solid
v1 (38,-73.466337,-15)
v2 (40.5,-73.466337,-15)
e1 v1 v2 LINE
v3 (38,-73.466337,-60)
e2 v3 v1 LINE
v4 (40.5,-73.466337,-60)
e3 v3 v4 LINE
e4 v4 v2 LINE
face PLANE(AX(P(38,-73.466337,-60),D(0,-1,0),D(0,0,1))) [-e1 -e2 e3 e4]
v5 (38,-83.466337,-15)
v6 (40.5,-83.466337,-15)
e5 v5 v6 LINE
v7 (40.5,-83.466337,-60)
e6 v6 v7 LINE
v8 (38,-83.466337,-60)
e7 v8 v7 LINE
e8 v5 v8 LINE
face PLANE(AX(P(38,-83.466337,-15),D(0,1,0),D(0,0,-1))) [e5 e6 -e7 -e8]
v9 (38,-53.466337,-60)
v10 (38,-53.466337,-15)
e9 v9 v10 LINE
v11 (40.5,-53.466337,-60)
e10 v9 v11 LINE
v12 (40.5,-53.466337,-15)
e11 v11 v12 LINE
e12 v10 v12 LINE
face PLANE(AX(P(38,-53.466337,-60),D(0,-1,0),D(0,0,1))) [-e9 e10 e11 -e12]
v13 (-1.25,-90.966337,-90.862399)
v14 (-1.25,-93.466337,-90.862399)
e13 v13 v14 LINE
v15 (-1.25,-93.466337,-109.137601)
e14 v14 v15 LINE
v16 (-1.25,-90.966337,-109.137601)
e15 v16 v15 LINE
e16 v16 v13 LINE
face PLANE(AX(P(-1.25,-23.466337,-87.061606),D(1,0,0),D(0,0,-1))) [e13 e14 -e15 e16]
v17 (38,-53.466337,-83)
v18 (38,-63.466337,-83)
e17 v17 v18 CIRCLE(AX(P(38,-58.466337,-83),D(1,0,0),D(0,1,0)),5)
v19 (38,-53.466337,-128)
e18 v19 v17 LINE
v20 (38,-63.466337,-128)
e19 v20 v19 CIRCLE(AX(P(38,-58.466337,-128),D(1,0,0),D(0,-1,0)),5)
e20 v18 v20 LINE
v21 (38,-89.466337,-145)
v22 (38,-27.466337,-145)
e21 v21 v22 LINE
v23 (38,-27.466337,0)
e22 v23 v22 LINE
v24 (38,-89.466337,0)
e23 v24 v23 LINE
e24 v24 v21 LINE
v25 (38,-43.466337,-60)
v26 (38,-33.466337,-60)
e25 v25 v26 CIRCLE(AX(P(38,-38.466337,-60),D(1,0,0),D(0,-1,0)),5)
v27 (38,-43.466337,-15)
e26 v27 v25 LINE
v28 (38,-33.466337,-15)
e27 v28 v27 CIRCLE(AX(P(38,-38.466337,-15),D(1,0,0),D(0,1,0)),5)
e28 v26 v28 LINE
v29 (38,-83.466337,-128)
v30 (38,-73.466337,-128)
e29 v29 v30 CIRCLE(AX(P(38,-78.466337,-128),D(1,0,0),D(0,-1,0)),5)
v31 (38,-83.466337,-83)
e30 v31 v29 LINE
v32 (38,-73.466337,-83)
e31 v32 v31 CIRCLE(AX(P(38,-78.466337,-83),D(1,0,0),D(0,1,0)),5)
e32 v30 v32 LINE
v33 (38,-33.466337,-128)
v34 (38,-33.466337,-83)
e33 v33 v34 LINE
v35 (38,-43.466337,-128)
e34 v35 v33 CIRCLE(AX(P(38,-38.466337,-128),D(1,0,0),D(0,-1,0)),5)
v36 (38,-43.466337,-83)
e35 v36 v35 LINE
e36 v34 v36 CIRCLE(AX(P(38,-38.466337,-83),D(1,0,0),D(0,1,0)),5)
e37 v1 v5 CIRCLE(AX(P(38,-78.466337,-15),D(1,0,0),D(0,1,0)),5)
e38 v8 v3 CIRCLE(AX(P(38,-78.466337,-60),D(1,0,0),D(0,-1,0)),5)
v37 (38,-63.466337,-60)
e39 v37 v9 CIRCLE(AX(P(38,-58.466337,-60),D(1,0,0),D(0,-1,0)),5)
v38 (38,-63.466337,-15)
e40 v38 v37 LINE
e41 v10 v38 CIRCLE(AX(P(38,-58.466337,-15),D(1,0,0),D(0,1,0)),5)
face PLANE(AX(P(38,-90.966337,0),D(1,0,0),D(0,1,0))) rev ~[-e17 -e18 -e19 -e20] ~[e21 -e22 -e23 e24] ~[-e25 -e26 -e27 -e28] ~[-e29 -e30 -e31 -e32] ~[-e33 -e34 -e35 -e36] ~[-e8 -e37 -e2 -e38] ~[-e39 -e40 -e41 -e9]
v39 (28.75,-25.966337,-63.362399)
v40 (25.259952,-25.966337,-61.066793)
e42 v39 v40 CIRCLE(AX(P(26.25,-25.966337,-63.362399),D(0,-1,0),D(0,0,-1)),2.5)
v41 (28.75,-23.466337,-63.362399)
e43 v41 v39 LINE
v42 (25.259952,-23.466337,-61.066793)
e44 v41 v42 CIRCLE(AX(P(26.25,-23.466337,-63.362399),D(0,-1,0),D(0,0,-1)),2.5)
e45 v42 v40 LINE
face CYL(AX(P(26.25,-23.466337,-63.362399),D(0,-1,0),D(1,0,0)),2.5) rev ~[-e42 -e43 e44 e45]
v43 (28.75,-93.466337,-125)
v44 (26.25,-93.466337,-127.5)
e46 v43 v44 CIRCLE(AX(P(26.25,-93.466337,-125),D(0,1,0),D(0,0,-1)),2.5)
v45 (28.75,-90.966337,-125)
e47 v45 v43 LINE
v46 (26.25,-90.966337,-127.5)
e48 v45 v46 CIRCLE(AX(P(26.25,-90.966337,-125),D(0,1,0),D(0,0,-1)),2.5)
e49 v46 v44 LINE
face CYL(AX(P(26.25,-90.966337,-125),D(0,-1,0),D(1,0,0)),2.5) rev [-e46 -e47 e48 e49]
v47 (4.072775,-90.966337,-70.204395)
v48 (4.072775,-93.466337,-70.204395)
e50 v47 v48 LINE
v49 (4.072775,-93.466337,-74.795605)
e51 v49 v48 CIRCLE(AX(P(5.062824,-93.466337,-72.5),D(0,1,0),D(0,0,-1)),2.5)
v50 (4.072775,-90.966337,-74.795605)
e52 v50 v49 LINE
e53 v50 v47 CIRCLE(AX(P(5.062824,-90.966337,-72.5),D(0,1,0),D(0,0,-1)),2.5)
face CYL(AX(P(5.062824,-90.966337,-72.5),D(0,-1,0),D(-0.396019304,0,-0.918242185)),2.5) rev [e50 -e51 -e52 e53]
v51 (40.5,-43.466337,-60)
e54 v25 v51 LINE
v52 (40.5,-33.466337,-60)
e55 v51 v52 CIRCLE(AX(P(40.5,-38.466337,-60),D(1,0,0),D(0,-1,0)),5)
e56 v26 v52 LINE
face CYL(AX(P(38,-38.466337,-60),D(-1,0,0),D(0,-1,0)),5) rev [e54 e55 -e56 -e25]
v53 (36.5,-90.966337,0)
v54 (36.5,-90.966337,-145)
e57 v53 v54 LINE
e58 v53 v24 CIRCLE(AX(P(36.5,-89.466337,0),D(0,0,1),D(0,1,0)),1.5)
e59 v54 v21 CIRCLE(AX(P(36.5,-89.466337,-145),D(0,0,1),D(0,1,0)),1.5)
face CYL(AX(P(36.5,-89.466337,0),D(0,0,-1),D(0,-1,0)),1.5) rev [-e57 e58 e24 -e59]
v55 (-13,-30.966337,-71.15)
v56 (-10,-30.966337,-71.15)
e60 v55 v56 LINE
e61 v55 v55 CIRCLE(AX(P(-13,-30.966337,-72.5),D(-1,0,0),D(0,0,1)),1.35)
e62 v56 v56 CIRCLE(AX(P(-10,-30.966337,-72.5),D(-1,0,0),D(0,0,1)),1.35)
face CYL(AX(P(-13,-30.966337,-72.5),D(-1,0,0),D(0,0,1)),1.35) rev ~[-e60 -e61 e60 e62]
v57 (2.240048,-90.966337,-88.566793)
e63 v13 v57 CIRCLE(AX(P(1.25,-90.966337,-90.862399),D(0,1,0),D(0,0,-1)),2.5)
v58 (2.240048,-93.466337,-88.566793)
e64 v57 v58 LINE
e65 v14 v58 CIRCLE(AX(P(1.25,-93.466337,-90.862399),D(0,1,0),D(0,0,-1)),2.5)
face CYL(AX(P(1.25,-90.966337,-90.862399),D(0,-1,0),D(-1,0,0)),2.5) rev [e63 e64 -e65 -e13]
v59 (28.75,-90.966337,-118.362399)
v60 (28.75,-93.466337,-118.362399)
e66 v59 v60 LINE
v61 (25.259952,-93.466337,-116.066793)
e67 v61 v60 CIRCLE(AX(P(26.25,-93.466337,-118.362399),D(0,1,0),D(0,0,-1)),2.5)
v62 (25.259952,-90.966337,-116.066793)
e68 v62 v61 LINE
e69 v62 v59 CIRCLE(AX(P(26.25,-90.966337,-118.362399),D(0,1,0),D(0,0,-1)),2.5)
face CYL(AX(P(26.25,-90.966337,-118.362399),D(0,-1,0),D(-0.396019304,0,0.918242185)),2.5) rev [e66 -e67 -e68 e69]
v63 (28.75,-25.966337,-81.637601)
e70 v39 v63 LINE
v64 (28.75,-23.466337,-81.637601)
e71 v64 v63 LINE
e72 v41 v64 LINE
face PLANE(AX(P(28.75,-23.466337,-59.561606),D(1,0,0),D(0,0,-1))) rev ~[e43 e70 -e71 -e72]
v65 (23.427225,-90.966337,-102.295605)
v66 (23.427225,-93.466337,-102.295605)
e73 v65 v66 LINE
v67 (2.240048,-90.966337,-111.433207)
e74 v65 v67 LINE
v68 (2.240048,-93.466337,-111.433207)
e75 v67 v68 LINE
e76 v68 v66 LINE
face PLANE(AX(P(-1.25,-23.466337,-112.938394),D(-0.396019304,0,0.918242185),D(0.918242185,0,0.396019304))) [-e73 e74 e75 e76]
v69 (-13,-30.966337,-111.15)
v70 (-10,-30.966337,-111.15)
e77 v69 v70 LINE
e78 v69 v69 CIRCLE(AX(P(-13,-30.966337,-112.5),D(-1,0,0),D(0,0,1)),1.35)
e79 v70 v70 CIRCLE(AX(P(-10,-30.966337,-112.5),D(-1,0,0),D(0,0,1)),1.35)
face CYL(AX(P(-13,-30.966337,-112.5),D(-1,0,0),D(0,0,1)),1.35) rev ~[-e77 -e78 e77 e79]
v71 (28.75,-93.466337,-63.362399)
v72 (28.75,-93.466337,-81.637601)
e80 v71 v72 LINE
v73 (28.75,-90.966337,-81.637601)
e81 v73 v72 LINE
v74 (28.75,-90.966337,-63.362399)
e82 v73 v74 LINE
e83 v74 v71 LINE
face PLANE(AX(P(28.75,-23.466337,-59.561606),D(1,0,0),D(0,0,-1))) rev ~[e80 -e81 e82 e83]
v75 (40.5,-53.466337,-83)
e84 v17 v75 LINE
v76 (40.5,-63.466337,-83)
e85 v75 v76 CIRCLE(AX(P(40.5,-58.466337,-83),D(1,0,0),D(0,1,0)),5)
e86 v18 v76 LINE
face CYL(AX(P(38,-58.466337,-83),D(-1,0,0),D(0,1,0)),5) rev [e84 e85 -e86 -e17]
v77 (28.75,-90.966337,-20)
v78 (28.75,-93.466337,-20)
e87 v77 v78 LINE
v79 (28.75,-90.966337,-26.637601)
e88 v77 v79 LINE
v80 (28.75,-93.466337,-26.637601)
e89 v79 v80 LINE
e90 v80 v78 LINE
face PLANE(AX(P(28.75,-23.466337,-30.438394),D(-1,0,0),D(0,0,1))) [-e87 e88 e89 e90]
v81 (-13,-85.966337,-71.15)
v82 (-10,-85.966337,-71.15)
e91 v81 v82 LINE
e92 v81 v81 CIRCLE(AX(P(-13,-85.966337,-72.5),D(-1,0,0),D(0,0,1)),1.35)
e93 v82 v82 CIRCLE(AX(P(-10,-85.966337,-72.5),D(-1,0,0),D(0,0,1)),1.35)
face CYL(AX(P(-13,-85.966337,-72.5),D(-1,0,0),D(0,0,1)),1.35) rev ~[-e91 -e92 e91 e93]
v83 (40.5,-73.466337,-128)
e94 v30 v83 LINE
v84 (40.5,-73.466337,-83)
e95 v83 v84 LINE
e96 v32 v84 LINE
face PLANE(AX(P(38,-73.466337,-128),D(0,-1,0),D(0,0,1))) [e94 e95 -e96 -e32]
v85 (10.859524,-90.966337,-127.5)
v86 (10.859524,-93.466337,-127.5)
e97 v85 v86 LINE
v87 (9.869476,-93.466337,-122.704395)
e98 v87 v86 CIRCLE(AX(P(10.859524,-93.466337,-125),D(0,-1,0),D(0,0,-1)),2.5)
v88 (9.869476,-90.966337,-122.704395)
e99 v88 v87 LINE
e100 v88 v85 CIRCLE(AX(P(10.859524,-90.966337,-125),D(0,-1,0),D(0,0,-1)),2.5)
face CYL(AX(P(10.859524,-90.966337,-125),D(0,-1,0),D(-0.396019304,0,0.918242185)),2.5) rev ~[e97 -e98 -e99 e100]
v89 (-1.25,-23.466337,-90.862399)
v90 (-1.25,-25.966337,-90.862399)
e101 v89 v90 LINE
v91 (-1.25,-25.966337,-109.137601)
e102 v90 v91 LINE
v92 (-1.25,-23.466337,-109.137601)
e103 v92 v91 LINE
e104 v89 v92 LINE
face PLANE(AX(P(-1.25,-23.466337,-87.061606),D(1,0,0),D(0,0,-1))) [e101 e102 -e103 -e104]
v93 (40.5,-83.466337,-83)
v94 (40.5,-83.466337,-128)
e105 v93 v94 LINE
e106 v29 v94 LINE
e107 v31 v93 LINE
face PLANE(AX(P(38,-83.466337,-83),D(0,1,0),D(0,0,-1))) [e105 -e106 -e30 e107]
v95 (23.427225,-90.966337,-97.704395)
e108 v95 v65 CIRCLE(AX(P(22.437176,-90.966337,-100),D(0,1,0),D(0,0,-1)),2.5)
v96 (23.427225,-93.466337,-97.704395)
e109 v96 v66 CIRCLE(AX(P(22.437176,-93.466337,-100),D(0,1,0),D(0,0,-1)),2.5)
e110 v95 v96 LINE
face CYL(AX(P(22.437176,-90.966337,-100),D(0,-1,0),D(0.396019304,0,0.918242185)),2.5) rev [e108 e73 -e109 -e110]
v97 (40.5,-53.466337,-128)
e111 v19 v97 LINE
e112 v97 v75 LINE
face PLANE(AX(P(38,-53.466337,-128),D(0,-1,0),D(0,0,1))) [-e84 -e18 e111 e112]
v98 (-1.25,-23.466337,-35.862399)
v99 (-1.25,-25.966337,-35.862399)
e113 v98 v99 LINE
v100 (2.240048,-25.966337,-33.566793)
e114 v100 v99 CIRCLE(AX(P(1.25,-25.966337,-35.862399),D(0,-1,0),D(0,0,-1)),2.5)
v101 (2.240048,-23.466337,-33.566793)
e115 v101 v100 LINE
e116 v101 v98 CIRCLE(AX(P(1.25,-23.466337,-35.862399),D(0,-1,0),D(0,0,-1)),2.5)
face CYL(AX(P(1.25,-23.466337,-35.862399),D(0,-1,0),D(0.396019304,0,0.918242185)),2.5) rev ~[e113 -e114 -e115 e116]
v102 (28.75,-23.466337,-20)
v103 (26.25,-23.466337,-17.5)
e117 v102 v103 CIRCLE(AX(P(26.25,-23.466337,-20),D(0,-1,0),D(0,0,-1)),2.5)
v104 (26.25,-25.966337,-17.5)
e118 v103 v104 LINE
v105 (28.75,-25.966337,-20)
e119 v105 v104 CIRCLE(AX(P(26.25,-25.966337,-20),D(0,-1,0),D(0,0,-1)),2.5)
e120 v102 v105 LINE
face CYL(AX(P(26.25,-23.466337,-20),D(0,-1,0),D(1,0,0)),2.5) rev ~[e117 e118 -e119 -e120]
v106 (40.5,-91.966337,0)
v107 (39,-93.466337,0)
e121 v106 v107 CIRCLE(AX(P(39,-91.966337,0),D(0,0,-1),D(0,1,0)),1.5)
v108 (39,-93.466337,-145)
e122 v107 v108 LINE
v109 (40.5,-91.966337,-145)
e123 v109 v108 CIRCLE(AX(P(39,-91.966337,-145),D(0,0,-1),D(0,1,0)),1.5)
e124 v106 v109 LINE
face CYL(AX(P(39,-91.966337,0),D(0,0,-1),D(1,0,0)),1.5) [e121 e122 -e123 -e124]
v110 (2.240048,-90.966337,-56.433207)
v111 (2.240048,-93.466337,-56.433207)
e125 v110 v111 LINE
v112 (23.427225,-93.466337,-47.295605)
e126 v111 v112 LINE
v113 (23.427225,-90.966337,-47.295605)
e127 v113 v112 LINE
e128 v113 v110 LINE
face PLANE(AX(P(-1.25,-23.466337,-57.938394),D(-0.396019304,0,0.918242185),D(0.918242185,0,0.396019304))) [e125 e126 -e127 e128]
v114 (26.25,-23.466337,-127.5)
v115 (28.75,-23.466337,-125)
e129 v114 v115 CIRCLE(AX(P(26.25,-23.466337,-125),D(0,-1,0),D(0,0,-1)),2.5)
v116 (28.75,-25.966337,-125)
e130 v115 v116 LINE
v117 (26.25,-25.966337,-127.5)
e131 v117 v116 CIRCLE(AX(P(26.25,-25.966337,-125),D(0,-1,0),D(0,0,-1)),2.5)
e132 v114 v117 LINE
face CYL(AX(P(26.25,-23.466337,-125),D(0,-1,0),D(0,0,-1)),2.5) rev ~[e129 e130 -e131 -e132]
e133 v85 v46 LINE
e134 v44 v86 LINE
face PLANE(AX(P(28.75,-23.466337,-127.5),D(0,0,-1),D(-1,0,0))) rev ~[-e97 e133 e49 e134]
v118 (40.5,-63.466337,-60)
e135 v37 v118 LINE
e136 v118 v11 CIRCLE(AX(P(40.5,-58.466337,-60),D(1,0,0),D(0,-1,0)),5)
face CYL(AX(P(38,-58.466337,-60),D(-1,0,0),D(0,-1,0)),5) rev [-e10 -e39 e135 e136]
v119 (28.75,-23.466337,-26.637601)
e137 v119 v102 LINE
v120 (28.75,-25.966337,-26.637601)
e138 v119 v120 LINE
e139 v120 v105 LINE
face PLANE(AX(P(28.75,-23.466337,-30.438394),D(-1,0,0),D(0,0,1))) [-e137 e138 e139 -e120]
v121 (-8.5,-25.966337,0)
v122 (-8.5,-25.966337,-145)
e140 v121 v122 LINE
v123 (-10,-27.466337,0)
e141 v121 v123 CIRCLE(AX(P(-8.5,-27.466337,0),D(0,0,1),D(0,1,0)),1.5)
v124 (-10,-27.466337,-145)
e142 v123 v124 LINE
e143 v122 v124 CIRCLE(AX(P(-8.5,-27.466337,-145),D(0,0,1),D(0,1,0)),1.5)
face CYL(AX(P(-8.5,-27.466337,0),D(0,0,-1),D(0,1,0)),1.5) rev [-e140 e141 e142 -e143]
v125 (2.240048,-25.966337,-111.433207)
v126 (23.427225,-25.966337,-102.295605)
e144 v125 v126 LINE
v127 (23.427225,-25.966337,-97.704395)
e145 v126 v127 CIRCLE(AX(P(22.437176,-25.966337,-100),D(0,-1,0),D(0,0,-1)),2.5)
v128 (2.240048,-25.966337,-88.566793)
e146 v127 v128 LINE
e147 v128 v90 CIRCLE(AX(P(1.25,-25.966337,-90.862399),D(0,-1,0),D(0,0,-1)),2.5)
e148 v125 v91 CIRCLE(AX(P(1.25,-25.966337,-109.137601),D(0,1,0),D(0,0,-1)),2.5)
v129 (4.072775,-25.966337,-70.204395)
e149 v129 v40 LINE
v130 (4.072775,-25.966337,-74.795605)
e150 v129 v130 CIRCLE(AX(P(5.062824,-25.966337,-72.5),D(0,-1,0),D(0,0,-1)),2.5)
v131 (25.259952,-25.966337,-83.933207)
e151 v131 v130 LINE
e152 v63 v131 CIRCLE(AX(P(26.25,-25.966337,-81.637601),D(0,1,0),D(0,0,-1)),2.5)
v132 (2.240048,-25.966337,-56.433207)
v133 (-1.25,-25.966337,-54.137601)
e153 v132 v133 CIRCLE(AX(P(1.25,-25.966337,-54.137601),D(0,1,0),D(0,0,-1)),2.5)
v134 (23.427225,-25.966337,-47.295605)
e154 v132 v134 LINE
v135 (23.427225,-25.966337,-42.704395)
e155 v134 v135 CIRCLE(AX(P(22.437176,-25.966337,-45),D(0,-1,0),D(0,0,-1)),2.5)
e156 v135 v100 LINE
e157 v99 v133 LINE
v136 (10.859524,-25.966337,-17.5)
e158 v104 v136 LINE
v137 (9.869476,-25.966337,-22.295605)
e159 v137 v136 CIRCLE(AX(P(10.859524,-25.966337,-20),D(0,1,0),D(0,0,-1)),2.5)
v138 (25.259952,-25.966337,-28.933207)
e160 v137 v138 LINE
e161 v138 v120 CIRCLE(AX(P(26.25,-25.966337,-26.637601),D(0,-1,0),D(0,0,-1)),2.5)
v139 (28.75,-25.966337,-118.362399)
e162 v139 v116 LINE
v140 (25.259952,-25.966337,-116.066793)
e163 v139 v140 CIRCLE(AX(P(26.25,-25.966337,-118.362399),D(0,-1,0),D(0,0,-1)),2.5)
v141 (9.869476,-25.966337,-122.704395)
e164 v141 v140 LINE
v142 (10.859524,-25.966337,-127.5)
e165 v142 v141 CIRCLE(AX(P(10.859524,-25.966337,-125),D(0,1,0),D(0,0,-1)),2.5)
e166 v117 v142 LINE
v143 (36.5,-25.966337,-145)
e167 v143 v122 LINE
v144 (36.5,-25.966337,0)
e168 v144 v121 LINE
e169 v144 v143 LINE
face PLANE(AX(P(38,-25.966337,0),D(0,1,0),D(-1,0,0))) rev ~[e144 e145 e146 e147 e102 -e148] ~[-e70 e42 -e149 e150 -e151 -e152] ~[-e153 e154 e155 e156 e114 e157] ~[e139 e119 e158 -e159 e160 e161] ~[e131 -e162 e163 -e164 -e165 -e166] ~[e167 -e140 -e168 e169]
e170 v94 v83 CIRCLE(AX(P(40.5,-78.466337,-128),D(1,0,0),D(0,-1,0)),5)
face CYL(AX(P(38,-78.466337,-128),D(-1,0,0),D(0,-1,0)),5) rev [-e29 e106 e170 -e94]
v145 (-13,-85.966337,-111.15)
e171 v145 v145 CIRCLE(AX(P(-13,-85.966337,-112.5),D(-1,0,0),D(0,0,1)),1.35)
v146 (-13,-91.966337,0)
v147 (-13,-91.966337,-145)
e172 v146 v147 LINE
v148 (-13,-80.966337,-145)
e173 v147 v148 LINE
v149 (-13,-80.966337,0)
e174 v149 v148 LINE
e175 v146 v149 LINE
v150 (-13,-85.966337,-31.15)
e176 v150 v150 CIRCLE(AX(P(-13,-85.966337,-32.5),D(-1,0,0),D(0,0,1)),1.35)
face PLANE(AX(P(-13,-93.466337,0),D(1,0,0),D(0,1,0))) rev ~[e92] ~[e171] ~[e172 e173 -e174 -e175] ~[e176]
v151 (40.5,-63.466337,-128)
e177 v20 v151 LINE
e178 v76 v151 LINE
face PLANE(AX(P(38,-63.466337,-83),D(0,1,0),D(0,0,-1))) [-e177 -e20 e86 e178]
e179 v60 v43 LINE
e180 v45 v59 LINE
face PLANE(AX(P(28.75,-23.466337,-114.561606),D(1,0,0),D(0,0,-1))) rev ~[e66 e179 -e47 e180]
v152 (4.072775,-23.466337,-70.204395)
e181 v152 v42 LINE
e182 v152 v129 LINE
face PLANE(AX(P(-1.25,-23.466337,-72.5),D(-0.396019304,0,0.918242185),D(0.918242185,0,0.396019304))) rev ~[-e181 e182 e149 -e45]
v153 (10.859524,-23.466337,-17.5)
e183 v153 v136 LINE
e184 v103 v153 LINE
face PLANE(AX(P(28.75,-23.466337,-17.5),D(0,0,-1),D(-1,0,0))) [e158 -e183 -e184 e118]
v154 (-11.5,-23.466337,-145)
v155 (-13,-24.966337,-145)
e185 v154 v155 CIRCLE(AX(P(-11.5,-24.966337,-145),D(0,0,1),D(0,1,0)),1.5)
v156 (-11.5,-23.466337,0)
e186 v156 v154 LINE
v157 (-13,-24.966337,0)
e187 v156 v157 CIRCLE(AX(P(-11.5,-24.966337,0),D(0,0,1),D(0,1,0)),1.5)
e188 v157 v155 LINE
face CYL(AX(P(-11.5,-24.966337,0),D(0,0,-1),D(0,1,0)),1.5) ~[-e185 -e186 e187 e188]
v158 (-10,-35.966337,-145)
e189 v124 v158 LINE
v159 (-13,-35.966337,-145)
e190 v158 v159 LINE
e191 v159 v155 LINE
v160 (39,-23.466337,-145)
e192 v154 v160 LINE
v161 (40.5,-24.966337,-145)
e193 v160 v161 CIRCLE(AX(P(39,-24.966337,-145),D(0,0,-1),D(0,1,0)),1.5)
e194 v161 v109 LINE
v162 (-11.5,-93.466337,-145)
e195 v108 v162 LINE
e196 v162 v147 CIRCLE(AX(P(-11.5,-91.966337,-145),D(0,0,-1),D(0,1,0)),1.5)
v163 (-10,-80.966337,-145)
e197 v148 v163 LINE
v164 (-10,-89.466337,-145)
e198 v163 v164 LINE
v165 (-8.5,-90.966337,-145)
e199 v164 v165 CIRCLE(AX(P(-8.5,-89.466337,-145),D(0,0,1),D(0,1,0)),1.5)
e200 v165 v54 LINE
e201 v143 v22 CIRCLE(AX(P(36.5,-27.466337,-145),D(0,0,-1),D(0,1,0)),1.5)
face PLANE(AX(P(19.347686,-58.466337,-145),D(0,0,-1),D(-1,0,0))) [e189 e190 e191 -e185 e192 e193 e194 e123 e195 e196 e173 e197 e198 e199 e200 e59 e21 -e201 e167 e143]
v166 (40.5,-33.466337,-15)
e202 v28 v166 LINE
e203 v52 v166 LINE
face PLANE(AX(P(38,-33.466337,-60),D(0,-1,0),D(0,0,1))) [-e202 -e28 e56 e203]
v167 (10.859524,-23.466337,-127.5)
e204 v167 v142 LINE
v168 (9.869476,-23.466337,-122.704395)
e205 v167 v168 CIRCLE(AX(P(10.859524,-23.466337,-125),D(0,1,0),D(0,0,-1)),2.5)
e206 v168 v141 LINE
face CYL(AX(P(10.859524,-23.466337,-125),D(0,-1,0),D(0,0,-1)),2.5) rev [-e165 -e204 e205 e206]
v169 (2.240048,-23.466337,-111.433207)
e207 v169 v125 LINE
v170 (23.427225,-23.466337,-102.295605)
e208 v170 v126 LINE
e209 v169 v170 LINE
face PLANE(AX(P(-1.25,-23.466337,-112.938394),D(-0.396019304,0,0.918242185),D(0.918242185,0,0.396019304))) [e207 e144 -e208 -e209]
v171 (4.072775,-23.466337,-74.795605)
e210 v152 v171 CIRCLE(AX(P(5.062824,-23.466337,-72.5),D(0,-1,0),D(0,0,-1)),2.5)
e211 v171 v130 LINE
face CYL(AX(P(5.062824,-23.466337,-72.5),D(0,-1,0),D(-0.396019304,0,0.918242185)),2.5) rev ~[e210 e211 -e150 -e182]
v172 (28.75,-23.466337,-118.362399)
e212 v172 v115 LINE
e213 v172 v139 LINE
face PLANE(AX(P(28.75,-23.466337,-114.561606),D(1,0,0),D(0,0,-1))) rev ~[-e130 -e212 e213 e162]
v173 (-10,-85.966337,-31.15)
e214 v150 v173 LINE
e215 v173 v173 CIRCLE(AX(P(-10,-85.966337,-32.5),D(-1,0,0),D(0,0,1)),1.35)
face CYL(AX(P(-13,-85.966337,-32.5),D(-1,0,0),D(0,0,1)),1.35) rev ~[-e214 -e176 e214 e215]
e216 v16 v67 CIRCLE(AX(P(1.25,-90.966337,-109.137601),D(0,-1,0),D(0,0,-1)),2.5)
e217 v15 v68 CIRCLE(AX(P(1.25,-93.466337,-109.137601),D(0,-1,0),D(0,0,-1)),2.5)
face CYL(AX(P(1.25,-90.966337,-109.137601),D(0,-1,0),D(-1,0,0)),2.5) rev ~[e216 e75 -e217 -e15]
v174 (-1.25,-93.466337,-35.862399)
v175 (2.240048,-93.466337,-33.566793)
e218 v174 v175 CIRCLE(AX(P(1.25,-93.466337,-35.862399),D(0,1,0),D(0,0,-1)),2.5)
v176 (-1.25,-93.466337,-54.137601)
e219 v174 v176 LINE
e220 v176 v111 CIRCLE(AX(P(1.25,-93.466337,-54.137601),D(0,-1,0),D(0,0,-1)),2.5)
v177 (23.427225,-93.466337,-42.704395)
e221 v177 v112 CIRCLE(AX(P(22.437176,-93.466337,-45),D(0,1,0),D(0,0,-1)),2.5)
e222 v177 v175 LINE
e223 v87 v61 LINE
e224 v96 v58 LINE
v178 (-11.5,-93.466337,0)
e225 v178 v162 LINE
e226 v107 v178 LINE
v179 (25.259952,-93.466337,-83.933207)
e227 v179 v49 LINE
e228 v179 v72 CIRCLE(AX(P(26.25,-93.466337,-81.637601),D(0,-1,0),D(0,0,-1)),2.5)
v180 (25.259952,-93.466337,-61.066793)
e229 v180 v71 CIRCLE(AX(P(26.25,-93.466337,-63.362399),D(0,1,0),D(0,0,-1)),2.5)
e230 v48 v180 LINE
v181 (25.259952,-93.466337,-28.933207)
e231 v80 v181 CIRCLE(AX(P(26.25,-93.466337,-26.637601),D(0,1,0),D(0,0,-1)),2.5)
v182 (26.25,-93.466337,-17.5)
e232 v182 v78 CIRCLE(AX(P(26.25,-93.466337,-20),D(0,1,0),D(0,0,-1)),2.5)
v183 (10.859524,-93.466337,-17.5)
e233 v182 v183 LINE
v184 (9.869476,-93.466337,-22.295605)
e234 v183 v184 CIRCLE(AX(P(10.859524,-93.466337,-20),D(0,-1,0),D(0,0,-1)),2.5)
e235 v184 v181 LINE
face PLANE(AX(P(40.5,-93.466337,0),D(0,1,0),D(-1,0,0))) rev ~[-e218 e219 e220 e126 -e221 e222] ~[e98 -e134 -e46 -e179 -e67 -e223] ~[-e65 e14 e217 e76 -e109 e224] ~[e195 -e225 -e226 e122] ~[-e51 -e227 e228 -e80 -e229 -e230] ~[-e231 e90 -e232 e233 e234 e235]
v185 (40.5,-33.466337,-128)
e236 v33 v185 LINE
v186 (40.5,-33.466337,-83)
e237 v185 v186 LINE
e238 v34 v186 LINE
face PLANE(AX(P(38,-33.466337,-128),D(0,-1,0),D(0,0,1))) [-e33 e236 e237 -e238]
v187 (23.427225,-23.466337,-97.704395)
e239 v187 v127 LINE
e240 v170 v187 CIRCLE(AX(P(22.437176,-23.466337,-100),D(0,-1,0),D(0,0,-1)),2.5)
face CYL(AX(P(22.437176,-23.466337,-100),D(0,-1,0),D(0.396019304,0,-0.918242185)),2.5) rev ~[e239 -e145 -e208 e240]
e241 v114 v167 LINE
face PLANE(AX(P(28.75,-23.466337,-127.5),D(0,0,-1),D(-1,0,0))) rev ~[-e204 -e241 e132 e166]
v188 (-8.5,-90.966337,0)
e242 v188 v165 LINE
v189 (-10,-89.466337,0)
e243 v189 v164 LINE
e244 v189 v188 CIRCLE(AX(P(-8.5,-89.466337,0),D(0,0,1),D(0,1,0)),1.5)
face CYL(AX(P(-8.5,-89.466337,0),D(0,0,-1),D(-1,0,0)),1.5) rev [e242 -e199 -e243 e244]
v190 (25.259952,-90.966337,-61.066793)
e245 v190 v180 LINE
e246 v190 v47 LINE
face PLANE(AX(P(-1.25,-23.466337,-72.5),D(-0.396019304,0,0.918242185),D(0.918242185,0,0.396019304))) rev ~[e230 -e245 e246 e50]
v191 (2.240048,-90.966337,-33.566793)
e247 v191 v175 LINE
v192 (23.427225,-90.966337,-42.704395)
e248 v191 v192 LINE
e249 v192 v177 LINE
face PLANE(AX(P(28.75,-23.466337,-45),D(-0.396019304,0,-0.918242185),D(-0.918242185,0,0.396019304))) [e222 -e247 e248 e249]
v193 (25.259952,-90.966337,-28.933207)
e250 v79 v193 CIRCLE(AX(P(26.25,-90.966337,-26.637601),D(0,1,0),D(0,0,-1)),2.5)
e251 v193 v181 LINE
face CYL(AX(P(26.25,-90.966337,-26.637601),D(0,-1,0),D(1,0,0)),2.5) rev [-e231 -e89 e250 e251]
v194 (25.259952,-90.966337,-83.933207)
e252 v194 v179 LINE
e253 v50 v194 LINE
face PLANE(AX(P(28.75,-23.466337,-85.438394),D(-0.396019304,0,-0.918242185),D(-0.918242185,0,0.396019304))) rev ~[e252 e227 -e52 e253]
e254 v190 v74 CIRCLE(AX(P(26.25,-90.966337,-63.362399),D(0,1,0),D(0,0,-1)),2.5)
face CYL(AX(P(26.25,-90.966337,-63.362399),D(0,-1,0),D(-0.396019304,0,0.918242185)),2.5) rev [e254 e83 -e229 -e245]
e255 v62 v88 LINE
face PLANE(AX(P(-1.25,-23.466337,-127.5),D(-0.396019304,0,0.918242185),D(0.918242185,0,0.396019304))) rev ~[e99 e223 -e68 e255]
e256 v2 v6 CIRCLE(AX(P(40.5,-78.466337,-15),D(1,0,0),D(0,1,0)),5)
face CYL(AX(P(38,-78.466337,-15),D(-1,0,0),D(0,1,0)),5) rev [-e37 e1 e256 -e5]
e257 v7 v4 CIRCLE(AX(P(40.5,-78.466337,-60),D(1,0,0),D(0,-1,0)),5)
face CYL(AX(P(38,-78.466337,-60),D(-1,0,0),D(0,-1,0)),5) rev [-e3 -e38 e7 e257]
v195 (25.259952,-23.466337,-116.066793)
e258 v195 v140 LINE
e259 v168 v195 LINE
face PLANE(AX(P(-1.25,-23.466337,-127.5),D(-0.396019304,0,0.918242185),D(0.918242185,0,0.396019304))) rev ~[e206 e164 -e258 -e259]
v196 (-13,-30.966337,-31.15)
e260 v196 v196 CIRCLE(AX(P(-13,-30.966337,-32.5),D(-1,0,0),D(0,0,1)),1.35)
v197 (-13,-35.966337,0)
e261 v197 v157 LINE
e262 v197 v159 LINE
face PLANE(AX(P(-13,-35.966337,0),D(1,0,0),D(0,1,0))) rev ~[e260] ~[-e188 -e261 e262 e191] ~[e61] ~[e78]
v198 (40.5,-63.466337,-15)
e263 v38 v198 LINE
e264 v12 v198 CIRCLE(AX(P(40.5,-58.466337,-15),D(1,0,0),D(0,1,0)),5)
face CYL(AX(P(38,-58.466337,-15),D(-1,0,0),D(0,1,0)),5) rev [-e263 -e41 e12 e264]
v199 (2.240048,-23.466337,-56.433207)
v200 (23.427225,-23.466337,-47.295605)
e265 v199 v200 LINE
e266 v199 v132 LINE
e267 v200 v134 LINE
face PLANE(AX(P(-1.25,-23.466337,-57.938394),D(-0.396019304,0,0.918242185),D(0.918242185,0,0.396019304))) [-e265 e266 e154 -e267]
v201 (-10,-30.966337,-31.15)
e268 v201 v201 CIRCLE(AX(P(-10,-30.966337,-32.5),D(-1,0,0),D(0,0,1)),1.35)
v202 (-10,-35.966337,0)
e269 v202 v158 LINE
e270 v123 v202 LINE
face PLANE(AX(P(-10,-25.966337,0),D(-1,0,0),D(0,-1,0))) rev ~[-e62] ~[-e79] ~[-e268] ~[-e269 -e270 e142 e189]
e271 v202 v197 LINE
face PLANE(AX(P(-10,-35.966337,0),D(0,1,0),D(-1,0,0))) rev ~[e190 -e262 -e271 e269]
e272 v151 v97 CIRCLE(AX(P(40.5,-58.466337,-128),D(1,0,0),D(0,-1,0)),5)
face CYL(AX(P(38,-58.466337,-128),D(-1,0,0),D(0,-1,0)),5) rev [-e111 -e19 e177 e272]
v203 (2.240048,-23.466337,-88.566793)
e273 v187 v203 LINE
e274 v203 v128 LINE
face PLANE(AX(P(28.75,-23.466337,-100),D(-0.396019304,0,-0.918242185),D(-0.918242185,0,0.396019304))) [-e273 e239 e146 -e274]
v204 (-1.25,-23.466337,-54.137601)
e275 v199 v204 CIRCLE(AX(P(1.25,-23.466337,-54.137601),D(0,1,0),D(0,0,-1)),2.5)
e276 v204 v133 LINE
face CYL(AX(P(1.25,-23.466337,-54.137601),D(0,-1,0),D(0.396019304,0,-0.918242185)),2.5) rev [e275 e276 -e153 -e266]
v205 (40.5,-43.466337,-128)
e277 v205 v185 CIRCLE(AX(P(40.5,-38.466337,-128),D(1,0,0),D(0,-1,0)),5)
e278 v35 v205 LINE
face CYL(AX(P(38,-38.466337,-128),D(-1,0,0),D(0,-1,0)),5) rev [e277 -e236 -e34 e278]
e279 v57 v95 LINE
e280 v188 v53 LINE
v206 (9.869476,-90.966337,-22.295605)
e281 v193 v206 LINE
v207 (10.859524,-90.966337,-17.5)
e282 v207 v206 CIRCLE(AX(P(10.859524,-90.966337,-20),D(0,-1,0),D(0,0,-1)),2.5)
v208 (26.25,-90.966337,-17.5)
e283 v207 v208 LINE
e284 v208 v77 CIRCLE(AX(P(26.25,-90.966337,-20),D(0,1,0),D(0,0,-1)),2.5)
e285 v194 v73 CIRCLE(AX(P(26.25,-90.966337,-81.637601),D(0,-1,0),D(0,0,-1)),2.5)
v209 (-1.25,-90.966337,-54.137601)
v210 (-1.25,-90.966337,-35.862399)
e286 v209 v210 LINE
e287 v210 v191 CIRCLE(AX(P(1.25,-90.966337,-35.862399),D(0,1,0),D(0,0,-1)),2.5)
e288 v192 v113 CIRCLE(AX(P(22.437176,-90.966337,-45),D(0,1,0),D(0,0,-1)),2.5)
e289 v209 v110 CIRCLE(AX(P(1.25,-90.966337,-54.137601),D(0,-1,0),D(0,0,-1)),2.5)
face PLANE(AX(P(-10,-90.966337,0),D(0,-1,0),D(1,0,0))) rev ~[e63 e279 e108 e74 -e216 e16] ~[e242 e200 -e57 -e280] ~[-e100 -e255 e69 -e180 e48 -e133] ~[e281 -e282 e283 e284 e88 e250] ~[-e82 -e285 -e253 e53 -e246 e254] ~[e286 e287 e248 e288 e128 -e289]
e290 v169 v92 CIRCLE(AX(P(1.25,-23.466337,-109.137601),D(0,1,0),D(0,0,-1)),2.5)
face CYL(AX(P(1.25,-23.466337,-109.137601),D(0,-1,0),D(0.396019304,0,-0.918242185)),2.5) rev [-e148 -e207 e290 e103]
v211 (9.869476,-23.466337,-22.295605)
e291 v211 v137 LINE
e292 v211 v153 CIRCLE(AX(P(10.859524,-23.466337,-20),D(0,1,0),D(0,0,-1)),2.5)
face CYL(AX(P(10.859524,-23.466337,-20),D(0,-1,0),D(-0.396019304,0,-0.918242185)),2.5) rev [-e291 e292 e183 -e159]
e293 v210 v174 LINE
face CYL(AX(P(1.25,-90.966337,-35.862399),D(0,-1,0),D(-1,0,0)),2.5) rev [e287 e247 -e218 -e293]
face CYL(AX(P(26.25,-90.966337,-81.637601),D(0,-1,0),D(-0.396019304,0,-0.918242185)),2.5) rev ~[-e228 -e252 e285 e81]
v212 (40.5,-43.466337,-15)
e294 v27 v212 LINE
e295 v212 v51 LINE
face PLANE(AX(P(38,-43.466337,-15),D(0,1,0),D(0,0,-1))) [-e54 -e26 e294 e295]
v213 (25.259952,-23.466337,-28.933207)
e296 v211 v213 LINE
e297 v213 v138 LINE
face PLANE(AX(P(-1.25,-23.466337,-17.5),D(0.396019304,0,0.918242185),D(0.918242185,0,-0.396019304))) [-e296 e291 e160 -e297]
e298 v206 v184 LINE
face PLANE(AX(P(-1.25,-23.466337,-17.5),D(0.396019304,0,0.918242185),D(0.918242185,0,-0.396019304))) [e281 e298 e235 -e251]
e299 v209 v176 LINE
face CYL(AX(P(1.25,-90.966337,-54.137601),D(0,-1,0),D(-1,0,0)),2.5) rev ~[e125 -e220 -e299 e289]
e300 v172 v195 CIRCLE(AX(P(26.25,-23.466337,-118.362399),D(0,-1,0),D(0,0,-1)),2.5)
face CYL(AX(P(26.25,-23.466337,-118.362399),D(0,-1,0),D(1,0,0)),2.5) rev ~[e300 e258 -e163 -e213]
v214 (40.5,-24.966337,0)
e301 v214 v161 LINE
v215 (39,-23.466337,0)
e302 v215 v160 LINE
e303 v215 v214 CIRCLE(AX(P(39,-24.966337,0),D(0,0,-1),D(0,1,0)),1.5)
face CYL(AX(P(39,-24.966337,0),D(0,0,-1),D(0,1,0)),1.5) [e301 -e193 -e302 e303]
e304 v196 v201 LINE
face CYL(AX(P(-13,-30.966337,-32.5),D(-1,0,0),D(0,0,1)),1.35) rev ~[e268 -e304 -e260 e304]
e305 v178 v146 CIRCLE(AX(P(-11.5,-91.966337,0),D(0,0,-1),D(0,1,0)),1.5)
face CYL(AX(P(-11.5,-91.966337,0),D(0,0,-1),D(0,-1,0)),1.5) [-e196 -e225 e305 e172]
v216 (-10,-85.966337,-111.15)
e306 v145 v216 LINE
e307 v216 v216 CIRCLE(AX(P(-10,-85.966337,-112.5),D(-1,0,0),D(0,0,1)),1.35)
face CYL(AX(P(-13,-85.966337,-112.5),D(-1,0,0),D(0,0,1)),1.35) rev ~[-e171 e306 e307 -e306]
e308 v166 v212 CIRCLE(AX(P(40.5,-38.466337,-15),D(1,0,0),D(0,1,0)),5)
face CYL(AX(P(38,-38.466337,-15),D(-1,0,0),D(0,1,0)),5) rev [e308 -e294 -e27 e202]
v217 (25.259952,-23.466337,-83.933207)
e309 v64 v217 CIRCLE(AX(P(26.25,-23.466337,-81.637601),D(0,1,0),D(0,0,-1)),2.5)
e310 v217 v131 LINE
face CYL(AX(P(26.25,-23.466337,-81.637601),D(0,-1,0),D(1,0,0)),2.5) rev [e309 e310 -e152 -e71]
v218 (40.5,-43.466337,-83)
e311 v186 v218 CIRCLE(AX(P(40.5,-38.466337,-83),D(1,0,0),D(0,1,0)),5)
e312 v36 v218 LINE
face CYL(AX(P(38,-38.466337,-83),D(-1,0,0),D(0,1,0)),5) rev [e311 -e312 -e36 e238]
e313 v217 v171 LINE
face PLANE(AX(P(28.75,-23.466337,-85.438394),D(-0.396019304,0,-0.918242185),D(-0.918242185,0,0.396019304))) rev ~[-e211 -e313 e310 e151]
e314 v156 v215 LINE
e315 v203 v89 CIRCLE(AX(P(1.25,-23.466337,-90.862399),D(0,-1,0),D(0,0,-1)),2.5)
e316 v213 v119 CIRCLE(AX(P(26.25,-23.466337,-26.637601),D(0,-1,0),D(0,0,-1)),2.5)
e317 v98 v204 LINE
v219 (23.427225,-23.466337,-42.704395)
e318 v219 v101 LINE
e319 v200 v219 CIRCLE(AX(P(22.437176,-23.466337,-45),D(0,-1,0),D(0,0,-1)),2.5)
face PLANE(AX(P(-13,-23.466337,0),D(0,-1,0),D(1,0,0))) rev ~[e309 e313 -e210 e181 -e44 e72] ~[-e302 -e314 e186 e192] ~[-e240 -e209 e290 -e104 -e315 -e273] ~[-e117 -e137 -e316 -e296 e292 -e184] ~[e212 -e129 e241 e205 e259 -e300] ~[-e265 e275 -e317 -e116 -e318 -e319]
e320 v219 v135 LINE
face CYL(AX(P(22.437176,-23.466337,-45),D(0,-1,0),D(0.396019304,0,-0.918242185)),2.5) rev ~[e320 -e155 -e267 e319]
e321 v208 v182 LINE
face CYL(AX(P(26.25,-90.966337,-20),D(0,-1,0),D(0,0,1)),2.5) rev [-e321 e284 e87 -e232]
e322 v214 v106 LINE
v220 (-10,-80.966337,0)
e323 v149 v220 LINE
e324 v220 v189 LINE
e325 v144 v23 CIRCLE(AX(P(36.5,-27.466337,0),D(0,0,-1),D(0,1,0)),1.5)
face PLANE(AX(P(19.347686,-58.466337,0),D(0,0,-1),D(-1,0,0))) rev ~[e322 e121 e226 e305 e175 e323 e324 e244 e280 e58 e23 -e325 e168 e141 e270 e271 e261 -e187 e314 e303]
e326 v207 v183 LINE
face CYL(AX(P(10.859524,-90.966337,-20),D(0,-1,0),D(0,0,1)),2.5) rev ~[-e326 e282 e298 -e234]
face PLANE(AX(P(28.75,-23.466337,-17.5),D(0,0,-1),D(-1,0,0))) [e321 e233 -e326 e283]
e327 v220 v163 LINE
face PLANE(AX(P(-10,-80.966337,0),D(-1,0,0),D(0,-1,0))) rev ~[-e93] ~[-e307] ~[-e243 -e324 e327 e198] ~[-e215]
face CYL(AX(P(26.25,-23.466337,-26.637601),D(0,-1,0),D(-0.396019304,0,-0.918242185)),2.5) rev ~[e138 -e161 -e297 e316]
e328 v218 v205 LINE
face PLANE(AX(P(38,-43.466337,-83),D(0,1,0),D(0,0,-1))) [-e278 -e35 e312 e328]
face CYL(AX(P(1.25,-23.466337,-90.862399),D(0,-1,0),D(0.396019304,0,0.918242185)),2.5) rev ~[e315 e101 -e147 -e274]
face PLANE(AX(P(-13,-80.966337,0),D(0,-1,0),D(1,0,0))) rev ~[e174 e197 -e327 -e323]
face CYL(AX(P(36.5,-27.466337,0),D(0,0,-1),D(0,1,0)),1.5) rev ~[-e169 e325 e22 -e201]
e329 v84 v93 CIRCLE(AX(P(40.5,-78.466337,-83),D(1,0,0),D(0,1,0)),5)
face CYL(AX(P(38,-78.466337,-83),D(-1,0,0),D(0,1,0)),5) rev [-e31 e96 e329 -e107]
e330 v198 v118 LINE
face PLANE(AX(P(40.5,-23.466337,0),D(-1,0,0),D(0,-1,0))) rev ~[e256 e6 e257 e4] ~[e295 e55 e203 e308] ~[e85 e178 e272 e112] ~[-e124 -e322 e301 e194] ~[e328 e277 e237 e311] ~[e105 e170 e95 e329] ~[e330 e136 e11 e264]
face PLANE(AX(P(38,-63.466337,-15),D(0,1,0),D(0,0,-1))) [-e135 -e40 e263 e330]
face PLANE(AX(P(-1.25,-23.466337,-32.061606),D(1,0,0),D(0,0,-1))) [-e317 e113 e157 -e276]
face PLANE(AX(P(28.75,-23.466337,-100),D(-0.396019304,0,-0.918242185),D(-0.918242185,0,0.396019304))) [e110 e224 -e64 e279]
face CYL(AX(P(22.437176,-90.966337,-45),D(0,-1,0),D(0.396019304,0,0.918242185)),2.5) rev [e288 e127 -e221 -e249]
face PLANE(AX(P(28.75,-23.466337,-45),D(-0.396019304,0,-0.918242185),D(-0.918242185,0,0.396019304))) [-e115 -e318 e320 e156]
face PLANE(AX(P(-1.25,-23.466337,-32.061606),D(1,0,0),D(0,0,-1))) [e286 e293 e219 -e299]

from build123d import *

# Parameters (mm, degrees)
EXTRUDE_1_DEPTH     = 145
SKETCH_2_R          = 1.35
CUT_EXTRUDE_1_DEPTH = 3
CUT_EXTRUDE_2_DEPTH = 2.5
CUT_EXTRUDE_3_DEPTH = 70
FILLET_1_R          = 2.5
FILLET_2_R          = 1.5


with BuildPart() as part:
    # 草图1 → 凸台-拉伸1 (new body)
    with BuildSketch(Plane.XY):
        Polygon((-13, -35.966337082), (-13, -23.466337082), (40.5, -23.466337082), (40.5, -93.466337082), (-13, -93.466337082), (-13, -80.966337082), (-10, -80.966337082), (-10, -90.966337082), (38, -90.966337082), (38, -25.966337082), (-10, -25.966337082), (-10, -35.966337082), align=None)
    extrude(amount=-EXTRUDE_1_DEPTH)

    # 草图2 → 切除-拉伸1 (cut)
    with BuildSketch(Plane.ZY.offset(13)):
        with Locations((-112.5, -30.966337082)):
            Circle(SKETCH_2_R)
        with Locations((-72.5, -30.966337082)):
            Circle(SKETCH_2_R)
        with Locations((-32.5, -30.966337082)):
            Circle(SKETCH_2_R)
        with Locations((-32.5, -85.966337082)):
            Circle(SKETCH_2_R)
        with Locations((-72.5, -85.966337082)):
            Circle(SKETCH_2_R)
        with Locations((-112.5, -85.966337082)):
            Circle(SKETCH_2_R)
    extrude(amount=-CUT_EXTRUDE_1_DEPTH, mode=Mode.SUBTRACT)

    # 草图3 → 切除-拉伸2 (cut)
    with BuildSketch(Plane.ZY.offset(-38)):
        with BuildLine():
            Line((-128, -33.466337082), (-83, -33.466337082))
            ThreePointArc((-83, -33.466337082), (-78, -38.466337082), (-83, -43.466337082))
            Line((-83, -43.466337082), (-128, -43.466337082))
            ThreePointArc((-128, -43.466337082), (-133, -38.466337082), (-128, -33.466337082))
        make_face()
        with BuildLine():
            Line((-128, -53.466337082), (-83, -53.466337082))
            ThreePointArc((-83, -53.466337082), (-78, -58.466337082), (-83, -63.466337082))
            Line((-83, -63.466337082), (-128, -63.466337082))
            ThreePointArc((-128, -63.466337082), (-133, -58.466337082), (-128, -53.466337082))
        make_face()
        with BuildLine():
            Line((-128, -73.466337082), (-83, -73.466337082))
            ThreePointArc((-83, -73.466337082), (-78, -78.466337082), (-83, -83.466337082))
            Line((-83, -83.466337082), (-128, -83.466337082))
            ThreePointArc((-128, -83.466337082), (-133, -78.466337082), (-128, -73.466337082))
        make_face()
        with BuildLine():
            Line((-60, -33.466337082), (-15, -33.466337082))
            ThreePointArc((-15, -33.466337082), (-10, -38.466337082), (-15, -43.466337082))
            Line((-15, -43.466337082), (-60, -43.466337082))
            ThreePointArc((-60, -43.466337082), (-65, -38.466337082), (-60, -33.466337082))
        make_face()
        with BuildLine():
            Line((-60, -53.466337082), (-15, -53.466337082))
            ThreePointArc((-15, -53.466337082), (-10, -58.466337082), (-15, -63.466337082))
            Line((-15, -63.466337082), (-60, -63.466337082))
            ThreePointArc((-60, -63.466337082), (-65, -58.466337082), (-60, -53.466337082))
        make_face()
        with BuildLine():
            Line((-60, -73.466337082), (-15, -73.466337082))
            ThreePointArc((-15, -73.466337082), (-10, -78.466337082), (-15, -83.466337082))
            Line((-15, -83.466337082), (-60, -83.466337082))
            ThreePointArc((-60, -83.466337082), (-65, -78.466337082), (-60, -73.466337082))
        make_face()
    extrude(amount=-CUT_EXTRUDE_2_DEPTH, mode=Mode.SUBTRACT)

    # 草图4 → 切除-拉伸3 (cut)
    with BuildSketch(Plane(origin=(0, -23.466337082, 0), x_dir=(1, 0, 0), z_dir=(0, 1, 0))):
        Polygon((28.75, 85.438393953), (-1.25, 72.5), (28.75, 59.561606047), align=None)
        Polygon((-1.25, 127.5), (28.75, 114.561606047), (28.75, 127.5), align=None)
        Polygon((-1.25, 112.938393953), (28.75, 100), (-1.25, 87.061606047), align=None)
        Polygon((-1.25, 57.938393953), (28.75, 45), (-1.25, 32.061606047), align=None)
        Polygon((-1.25, 17.5), (28.75, 30.438393953), (28.75, 17.5), align=None)
    extrude(amount=-CUT_EXTRUDE_3_DEPTH, mode=Mode.SUBTRACT)

    # 圆角1
    fillet_1_edges = [part.edges().sort_by_distance(p)[0] for p in [
        (-1.25, -92.216337082, -127.5),
        (28.75, -92.216337082, -127.5),
        (28.75, -92.216337082, -114.561606047),
        (-1.25, -24.716337082, -127.5),
        (28.75, -24.716337082, -127.5),
        (28.75, -24.716337082, -114.561606047),
        (-1.25, -92.216337082, -32.061606047),
        (-1.25, -92.216337082, -57.938393953),
        (28.75, -92.216337082, -45),
        (-1.25, -24.716337082, -32.061606047),
        (-1.25, -24.716337082, -57.938393953),
        (28.75, -24.716337082, -45),
        (-1.25, -92.216337082, -87.061606047),
        (-1.25, -92.216337082, -112.938393953),
        (28.75, -92.216337082, -100),
        (-1.25, -24.716337082, -87.061606047),
        (-1.25, -24.716337082, -112.938393953),
        (28.75, -24.716337082, -100),
        (28.75, -92.216337082, -85.438393953),
        (28.75, -92.216337082, -59.561606047),
        (-1.25, -92.216337082, -72.5),
        (28.75, -24.716337082, -85.438393953),
        (28.75, -24.716337082, -59.561606047),
        (-1.25, -24.716337082, -72.5),
        (28.75, -92.216337082, -17.5),
        (-1.25, -92.216337082, -17.5),
        (28.75, -92.216337082, -30.438393953),
        (28.75, -24.716337082, -17.5),
        (-1.25, -24.716337082, -17.5),
        (28.75, -24.716337082, -30.438393953),
    ]]
    fillet(fillet_1_edges, radius=FILLET_1_R)

    # 圆角2
    fillet_2_edges = [part.edges().sort_by_distance(p)[0] for p in [
        (-13, -23.466337082, -72.5),
        (40.5, -23.466337082, -72.5),
        (40.5, -93.466337082, -72.5),
        (-13, -93.466337082, -72.5),
        (-10, -90.966337082, -72.5),
        (38, -90.966337082, -72.5),
        (38, -25.966337082, -72.5),
        (-10, -25.966337082, -72.5),
    ]]
    fillet(fillet_2_edges, radius=FILLET_2_R)


solid = part.part
